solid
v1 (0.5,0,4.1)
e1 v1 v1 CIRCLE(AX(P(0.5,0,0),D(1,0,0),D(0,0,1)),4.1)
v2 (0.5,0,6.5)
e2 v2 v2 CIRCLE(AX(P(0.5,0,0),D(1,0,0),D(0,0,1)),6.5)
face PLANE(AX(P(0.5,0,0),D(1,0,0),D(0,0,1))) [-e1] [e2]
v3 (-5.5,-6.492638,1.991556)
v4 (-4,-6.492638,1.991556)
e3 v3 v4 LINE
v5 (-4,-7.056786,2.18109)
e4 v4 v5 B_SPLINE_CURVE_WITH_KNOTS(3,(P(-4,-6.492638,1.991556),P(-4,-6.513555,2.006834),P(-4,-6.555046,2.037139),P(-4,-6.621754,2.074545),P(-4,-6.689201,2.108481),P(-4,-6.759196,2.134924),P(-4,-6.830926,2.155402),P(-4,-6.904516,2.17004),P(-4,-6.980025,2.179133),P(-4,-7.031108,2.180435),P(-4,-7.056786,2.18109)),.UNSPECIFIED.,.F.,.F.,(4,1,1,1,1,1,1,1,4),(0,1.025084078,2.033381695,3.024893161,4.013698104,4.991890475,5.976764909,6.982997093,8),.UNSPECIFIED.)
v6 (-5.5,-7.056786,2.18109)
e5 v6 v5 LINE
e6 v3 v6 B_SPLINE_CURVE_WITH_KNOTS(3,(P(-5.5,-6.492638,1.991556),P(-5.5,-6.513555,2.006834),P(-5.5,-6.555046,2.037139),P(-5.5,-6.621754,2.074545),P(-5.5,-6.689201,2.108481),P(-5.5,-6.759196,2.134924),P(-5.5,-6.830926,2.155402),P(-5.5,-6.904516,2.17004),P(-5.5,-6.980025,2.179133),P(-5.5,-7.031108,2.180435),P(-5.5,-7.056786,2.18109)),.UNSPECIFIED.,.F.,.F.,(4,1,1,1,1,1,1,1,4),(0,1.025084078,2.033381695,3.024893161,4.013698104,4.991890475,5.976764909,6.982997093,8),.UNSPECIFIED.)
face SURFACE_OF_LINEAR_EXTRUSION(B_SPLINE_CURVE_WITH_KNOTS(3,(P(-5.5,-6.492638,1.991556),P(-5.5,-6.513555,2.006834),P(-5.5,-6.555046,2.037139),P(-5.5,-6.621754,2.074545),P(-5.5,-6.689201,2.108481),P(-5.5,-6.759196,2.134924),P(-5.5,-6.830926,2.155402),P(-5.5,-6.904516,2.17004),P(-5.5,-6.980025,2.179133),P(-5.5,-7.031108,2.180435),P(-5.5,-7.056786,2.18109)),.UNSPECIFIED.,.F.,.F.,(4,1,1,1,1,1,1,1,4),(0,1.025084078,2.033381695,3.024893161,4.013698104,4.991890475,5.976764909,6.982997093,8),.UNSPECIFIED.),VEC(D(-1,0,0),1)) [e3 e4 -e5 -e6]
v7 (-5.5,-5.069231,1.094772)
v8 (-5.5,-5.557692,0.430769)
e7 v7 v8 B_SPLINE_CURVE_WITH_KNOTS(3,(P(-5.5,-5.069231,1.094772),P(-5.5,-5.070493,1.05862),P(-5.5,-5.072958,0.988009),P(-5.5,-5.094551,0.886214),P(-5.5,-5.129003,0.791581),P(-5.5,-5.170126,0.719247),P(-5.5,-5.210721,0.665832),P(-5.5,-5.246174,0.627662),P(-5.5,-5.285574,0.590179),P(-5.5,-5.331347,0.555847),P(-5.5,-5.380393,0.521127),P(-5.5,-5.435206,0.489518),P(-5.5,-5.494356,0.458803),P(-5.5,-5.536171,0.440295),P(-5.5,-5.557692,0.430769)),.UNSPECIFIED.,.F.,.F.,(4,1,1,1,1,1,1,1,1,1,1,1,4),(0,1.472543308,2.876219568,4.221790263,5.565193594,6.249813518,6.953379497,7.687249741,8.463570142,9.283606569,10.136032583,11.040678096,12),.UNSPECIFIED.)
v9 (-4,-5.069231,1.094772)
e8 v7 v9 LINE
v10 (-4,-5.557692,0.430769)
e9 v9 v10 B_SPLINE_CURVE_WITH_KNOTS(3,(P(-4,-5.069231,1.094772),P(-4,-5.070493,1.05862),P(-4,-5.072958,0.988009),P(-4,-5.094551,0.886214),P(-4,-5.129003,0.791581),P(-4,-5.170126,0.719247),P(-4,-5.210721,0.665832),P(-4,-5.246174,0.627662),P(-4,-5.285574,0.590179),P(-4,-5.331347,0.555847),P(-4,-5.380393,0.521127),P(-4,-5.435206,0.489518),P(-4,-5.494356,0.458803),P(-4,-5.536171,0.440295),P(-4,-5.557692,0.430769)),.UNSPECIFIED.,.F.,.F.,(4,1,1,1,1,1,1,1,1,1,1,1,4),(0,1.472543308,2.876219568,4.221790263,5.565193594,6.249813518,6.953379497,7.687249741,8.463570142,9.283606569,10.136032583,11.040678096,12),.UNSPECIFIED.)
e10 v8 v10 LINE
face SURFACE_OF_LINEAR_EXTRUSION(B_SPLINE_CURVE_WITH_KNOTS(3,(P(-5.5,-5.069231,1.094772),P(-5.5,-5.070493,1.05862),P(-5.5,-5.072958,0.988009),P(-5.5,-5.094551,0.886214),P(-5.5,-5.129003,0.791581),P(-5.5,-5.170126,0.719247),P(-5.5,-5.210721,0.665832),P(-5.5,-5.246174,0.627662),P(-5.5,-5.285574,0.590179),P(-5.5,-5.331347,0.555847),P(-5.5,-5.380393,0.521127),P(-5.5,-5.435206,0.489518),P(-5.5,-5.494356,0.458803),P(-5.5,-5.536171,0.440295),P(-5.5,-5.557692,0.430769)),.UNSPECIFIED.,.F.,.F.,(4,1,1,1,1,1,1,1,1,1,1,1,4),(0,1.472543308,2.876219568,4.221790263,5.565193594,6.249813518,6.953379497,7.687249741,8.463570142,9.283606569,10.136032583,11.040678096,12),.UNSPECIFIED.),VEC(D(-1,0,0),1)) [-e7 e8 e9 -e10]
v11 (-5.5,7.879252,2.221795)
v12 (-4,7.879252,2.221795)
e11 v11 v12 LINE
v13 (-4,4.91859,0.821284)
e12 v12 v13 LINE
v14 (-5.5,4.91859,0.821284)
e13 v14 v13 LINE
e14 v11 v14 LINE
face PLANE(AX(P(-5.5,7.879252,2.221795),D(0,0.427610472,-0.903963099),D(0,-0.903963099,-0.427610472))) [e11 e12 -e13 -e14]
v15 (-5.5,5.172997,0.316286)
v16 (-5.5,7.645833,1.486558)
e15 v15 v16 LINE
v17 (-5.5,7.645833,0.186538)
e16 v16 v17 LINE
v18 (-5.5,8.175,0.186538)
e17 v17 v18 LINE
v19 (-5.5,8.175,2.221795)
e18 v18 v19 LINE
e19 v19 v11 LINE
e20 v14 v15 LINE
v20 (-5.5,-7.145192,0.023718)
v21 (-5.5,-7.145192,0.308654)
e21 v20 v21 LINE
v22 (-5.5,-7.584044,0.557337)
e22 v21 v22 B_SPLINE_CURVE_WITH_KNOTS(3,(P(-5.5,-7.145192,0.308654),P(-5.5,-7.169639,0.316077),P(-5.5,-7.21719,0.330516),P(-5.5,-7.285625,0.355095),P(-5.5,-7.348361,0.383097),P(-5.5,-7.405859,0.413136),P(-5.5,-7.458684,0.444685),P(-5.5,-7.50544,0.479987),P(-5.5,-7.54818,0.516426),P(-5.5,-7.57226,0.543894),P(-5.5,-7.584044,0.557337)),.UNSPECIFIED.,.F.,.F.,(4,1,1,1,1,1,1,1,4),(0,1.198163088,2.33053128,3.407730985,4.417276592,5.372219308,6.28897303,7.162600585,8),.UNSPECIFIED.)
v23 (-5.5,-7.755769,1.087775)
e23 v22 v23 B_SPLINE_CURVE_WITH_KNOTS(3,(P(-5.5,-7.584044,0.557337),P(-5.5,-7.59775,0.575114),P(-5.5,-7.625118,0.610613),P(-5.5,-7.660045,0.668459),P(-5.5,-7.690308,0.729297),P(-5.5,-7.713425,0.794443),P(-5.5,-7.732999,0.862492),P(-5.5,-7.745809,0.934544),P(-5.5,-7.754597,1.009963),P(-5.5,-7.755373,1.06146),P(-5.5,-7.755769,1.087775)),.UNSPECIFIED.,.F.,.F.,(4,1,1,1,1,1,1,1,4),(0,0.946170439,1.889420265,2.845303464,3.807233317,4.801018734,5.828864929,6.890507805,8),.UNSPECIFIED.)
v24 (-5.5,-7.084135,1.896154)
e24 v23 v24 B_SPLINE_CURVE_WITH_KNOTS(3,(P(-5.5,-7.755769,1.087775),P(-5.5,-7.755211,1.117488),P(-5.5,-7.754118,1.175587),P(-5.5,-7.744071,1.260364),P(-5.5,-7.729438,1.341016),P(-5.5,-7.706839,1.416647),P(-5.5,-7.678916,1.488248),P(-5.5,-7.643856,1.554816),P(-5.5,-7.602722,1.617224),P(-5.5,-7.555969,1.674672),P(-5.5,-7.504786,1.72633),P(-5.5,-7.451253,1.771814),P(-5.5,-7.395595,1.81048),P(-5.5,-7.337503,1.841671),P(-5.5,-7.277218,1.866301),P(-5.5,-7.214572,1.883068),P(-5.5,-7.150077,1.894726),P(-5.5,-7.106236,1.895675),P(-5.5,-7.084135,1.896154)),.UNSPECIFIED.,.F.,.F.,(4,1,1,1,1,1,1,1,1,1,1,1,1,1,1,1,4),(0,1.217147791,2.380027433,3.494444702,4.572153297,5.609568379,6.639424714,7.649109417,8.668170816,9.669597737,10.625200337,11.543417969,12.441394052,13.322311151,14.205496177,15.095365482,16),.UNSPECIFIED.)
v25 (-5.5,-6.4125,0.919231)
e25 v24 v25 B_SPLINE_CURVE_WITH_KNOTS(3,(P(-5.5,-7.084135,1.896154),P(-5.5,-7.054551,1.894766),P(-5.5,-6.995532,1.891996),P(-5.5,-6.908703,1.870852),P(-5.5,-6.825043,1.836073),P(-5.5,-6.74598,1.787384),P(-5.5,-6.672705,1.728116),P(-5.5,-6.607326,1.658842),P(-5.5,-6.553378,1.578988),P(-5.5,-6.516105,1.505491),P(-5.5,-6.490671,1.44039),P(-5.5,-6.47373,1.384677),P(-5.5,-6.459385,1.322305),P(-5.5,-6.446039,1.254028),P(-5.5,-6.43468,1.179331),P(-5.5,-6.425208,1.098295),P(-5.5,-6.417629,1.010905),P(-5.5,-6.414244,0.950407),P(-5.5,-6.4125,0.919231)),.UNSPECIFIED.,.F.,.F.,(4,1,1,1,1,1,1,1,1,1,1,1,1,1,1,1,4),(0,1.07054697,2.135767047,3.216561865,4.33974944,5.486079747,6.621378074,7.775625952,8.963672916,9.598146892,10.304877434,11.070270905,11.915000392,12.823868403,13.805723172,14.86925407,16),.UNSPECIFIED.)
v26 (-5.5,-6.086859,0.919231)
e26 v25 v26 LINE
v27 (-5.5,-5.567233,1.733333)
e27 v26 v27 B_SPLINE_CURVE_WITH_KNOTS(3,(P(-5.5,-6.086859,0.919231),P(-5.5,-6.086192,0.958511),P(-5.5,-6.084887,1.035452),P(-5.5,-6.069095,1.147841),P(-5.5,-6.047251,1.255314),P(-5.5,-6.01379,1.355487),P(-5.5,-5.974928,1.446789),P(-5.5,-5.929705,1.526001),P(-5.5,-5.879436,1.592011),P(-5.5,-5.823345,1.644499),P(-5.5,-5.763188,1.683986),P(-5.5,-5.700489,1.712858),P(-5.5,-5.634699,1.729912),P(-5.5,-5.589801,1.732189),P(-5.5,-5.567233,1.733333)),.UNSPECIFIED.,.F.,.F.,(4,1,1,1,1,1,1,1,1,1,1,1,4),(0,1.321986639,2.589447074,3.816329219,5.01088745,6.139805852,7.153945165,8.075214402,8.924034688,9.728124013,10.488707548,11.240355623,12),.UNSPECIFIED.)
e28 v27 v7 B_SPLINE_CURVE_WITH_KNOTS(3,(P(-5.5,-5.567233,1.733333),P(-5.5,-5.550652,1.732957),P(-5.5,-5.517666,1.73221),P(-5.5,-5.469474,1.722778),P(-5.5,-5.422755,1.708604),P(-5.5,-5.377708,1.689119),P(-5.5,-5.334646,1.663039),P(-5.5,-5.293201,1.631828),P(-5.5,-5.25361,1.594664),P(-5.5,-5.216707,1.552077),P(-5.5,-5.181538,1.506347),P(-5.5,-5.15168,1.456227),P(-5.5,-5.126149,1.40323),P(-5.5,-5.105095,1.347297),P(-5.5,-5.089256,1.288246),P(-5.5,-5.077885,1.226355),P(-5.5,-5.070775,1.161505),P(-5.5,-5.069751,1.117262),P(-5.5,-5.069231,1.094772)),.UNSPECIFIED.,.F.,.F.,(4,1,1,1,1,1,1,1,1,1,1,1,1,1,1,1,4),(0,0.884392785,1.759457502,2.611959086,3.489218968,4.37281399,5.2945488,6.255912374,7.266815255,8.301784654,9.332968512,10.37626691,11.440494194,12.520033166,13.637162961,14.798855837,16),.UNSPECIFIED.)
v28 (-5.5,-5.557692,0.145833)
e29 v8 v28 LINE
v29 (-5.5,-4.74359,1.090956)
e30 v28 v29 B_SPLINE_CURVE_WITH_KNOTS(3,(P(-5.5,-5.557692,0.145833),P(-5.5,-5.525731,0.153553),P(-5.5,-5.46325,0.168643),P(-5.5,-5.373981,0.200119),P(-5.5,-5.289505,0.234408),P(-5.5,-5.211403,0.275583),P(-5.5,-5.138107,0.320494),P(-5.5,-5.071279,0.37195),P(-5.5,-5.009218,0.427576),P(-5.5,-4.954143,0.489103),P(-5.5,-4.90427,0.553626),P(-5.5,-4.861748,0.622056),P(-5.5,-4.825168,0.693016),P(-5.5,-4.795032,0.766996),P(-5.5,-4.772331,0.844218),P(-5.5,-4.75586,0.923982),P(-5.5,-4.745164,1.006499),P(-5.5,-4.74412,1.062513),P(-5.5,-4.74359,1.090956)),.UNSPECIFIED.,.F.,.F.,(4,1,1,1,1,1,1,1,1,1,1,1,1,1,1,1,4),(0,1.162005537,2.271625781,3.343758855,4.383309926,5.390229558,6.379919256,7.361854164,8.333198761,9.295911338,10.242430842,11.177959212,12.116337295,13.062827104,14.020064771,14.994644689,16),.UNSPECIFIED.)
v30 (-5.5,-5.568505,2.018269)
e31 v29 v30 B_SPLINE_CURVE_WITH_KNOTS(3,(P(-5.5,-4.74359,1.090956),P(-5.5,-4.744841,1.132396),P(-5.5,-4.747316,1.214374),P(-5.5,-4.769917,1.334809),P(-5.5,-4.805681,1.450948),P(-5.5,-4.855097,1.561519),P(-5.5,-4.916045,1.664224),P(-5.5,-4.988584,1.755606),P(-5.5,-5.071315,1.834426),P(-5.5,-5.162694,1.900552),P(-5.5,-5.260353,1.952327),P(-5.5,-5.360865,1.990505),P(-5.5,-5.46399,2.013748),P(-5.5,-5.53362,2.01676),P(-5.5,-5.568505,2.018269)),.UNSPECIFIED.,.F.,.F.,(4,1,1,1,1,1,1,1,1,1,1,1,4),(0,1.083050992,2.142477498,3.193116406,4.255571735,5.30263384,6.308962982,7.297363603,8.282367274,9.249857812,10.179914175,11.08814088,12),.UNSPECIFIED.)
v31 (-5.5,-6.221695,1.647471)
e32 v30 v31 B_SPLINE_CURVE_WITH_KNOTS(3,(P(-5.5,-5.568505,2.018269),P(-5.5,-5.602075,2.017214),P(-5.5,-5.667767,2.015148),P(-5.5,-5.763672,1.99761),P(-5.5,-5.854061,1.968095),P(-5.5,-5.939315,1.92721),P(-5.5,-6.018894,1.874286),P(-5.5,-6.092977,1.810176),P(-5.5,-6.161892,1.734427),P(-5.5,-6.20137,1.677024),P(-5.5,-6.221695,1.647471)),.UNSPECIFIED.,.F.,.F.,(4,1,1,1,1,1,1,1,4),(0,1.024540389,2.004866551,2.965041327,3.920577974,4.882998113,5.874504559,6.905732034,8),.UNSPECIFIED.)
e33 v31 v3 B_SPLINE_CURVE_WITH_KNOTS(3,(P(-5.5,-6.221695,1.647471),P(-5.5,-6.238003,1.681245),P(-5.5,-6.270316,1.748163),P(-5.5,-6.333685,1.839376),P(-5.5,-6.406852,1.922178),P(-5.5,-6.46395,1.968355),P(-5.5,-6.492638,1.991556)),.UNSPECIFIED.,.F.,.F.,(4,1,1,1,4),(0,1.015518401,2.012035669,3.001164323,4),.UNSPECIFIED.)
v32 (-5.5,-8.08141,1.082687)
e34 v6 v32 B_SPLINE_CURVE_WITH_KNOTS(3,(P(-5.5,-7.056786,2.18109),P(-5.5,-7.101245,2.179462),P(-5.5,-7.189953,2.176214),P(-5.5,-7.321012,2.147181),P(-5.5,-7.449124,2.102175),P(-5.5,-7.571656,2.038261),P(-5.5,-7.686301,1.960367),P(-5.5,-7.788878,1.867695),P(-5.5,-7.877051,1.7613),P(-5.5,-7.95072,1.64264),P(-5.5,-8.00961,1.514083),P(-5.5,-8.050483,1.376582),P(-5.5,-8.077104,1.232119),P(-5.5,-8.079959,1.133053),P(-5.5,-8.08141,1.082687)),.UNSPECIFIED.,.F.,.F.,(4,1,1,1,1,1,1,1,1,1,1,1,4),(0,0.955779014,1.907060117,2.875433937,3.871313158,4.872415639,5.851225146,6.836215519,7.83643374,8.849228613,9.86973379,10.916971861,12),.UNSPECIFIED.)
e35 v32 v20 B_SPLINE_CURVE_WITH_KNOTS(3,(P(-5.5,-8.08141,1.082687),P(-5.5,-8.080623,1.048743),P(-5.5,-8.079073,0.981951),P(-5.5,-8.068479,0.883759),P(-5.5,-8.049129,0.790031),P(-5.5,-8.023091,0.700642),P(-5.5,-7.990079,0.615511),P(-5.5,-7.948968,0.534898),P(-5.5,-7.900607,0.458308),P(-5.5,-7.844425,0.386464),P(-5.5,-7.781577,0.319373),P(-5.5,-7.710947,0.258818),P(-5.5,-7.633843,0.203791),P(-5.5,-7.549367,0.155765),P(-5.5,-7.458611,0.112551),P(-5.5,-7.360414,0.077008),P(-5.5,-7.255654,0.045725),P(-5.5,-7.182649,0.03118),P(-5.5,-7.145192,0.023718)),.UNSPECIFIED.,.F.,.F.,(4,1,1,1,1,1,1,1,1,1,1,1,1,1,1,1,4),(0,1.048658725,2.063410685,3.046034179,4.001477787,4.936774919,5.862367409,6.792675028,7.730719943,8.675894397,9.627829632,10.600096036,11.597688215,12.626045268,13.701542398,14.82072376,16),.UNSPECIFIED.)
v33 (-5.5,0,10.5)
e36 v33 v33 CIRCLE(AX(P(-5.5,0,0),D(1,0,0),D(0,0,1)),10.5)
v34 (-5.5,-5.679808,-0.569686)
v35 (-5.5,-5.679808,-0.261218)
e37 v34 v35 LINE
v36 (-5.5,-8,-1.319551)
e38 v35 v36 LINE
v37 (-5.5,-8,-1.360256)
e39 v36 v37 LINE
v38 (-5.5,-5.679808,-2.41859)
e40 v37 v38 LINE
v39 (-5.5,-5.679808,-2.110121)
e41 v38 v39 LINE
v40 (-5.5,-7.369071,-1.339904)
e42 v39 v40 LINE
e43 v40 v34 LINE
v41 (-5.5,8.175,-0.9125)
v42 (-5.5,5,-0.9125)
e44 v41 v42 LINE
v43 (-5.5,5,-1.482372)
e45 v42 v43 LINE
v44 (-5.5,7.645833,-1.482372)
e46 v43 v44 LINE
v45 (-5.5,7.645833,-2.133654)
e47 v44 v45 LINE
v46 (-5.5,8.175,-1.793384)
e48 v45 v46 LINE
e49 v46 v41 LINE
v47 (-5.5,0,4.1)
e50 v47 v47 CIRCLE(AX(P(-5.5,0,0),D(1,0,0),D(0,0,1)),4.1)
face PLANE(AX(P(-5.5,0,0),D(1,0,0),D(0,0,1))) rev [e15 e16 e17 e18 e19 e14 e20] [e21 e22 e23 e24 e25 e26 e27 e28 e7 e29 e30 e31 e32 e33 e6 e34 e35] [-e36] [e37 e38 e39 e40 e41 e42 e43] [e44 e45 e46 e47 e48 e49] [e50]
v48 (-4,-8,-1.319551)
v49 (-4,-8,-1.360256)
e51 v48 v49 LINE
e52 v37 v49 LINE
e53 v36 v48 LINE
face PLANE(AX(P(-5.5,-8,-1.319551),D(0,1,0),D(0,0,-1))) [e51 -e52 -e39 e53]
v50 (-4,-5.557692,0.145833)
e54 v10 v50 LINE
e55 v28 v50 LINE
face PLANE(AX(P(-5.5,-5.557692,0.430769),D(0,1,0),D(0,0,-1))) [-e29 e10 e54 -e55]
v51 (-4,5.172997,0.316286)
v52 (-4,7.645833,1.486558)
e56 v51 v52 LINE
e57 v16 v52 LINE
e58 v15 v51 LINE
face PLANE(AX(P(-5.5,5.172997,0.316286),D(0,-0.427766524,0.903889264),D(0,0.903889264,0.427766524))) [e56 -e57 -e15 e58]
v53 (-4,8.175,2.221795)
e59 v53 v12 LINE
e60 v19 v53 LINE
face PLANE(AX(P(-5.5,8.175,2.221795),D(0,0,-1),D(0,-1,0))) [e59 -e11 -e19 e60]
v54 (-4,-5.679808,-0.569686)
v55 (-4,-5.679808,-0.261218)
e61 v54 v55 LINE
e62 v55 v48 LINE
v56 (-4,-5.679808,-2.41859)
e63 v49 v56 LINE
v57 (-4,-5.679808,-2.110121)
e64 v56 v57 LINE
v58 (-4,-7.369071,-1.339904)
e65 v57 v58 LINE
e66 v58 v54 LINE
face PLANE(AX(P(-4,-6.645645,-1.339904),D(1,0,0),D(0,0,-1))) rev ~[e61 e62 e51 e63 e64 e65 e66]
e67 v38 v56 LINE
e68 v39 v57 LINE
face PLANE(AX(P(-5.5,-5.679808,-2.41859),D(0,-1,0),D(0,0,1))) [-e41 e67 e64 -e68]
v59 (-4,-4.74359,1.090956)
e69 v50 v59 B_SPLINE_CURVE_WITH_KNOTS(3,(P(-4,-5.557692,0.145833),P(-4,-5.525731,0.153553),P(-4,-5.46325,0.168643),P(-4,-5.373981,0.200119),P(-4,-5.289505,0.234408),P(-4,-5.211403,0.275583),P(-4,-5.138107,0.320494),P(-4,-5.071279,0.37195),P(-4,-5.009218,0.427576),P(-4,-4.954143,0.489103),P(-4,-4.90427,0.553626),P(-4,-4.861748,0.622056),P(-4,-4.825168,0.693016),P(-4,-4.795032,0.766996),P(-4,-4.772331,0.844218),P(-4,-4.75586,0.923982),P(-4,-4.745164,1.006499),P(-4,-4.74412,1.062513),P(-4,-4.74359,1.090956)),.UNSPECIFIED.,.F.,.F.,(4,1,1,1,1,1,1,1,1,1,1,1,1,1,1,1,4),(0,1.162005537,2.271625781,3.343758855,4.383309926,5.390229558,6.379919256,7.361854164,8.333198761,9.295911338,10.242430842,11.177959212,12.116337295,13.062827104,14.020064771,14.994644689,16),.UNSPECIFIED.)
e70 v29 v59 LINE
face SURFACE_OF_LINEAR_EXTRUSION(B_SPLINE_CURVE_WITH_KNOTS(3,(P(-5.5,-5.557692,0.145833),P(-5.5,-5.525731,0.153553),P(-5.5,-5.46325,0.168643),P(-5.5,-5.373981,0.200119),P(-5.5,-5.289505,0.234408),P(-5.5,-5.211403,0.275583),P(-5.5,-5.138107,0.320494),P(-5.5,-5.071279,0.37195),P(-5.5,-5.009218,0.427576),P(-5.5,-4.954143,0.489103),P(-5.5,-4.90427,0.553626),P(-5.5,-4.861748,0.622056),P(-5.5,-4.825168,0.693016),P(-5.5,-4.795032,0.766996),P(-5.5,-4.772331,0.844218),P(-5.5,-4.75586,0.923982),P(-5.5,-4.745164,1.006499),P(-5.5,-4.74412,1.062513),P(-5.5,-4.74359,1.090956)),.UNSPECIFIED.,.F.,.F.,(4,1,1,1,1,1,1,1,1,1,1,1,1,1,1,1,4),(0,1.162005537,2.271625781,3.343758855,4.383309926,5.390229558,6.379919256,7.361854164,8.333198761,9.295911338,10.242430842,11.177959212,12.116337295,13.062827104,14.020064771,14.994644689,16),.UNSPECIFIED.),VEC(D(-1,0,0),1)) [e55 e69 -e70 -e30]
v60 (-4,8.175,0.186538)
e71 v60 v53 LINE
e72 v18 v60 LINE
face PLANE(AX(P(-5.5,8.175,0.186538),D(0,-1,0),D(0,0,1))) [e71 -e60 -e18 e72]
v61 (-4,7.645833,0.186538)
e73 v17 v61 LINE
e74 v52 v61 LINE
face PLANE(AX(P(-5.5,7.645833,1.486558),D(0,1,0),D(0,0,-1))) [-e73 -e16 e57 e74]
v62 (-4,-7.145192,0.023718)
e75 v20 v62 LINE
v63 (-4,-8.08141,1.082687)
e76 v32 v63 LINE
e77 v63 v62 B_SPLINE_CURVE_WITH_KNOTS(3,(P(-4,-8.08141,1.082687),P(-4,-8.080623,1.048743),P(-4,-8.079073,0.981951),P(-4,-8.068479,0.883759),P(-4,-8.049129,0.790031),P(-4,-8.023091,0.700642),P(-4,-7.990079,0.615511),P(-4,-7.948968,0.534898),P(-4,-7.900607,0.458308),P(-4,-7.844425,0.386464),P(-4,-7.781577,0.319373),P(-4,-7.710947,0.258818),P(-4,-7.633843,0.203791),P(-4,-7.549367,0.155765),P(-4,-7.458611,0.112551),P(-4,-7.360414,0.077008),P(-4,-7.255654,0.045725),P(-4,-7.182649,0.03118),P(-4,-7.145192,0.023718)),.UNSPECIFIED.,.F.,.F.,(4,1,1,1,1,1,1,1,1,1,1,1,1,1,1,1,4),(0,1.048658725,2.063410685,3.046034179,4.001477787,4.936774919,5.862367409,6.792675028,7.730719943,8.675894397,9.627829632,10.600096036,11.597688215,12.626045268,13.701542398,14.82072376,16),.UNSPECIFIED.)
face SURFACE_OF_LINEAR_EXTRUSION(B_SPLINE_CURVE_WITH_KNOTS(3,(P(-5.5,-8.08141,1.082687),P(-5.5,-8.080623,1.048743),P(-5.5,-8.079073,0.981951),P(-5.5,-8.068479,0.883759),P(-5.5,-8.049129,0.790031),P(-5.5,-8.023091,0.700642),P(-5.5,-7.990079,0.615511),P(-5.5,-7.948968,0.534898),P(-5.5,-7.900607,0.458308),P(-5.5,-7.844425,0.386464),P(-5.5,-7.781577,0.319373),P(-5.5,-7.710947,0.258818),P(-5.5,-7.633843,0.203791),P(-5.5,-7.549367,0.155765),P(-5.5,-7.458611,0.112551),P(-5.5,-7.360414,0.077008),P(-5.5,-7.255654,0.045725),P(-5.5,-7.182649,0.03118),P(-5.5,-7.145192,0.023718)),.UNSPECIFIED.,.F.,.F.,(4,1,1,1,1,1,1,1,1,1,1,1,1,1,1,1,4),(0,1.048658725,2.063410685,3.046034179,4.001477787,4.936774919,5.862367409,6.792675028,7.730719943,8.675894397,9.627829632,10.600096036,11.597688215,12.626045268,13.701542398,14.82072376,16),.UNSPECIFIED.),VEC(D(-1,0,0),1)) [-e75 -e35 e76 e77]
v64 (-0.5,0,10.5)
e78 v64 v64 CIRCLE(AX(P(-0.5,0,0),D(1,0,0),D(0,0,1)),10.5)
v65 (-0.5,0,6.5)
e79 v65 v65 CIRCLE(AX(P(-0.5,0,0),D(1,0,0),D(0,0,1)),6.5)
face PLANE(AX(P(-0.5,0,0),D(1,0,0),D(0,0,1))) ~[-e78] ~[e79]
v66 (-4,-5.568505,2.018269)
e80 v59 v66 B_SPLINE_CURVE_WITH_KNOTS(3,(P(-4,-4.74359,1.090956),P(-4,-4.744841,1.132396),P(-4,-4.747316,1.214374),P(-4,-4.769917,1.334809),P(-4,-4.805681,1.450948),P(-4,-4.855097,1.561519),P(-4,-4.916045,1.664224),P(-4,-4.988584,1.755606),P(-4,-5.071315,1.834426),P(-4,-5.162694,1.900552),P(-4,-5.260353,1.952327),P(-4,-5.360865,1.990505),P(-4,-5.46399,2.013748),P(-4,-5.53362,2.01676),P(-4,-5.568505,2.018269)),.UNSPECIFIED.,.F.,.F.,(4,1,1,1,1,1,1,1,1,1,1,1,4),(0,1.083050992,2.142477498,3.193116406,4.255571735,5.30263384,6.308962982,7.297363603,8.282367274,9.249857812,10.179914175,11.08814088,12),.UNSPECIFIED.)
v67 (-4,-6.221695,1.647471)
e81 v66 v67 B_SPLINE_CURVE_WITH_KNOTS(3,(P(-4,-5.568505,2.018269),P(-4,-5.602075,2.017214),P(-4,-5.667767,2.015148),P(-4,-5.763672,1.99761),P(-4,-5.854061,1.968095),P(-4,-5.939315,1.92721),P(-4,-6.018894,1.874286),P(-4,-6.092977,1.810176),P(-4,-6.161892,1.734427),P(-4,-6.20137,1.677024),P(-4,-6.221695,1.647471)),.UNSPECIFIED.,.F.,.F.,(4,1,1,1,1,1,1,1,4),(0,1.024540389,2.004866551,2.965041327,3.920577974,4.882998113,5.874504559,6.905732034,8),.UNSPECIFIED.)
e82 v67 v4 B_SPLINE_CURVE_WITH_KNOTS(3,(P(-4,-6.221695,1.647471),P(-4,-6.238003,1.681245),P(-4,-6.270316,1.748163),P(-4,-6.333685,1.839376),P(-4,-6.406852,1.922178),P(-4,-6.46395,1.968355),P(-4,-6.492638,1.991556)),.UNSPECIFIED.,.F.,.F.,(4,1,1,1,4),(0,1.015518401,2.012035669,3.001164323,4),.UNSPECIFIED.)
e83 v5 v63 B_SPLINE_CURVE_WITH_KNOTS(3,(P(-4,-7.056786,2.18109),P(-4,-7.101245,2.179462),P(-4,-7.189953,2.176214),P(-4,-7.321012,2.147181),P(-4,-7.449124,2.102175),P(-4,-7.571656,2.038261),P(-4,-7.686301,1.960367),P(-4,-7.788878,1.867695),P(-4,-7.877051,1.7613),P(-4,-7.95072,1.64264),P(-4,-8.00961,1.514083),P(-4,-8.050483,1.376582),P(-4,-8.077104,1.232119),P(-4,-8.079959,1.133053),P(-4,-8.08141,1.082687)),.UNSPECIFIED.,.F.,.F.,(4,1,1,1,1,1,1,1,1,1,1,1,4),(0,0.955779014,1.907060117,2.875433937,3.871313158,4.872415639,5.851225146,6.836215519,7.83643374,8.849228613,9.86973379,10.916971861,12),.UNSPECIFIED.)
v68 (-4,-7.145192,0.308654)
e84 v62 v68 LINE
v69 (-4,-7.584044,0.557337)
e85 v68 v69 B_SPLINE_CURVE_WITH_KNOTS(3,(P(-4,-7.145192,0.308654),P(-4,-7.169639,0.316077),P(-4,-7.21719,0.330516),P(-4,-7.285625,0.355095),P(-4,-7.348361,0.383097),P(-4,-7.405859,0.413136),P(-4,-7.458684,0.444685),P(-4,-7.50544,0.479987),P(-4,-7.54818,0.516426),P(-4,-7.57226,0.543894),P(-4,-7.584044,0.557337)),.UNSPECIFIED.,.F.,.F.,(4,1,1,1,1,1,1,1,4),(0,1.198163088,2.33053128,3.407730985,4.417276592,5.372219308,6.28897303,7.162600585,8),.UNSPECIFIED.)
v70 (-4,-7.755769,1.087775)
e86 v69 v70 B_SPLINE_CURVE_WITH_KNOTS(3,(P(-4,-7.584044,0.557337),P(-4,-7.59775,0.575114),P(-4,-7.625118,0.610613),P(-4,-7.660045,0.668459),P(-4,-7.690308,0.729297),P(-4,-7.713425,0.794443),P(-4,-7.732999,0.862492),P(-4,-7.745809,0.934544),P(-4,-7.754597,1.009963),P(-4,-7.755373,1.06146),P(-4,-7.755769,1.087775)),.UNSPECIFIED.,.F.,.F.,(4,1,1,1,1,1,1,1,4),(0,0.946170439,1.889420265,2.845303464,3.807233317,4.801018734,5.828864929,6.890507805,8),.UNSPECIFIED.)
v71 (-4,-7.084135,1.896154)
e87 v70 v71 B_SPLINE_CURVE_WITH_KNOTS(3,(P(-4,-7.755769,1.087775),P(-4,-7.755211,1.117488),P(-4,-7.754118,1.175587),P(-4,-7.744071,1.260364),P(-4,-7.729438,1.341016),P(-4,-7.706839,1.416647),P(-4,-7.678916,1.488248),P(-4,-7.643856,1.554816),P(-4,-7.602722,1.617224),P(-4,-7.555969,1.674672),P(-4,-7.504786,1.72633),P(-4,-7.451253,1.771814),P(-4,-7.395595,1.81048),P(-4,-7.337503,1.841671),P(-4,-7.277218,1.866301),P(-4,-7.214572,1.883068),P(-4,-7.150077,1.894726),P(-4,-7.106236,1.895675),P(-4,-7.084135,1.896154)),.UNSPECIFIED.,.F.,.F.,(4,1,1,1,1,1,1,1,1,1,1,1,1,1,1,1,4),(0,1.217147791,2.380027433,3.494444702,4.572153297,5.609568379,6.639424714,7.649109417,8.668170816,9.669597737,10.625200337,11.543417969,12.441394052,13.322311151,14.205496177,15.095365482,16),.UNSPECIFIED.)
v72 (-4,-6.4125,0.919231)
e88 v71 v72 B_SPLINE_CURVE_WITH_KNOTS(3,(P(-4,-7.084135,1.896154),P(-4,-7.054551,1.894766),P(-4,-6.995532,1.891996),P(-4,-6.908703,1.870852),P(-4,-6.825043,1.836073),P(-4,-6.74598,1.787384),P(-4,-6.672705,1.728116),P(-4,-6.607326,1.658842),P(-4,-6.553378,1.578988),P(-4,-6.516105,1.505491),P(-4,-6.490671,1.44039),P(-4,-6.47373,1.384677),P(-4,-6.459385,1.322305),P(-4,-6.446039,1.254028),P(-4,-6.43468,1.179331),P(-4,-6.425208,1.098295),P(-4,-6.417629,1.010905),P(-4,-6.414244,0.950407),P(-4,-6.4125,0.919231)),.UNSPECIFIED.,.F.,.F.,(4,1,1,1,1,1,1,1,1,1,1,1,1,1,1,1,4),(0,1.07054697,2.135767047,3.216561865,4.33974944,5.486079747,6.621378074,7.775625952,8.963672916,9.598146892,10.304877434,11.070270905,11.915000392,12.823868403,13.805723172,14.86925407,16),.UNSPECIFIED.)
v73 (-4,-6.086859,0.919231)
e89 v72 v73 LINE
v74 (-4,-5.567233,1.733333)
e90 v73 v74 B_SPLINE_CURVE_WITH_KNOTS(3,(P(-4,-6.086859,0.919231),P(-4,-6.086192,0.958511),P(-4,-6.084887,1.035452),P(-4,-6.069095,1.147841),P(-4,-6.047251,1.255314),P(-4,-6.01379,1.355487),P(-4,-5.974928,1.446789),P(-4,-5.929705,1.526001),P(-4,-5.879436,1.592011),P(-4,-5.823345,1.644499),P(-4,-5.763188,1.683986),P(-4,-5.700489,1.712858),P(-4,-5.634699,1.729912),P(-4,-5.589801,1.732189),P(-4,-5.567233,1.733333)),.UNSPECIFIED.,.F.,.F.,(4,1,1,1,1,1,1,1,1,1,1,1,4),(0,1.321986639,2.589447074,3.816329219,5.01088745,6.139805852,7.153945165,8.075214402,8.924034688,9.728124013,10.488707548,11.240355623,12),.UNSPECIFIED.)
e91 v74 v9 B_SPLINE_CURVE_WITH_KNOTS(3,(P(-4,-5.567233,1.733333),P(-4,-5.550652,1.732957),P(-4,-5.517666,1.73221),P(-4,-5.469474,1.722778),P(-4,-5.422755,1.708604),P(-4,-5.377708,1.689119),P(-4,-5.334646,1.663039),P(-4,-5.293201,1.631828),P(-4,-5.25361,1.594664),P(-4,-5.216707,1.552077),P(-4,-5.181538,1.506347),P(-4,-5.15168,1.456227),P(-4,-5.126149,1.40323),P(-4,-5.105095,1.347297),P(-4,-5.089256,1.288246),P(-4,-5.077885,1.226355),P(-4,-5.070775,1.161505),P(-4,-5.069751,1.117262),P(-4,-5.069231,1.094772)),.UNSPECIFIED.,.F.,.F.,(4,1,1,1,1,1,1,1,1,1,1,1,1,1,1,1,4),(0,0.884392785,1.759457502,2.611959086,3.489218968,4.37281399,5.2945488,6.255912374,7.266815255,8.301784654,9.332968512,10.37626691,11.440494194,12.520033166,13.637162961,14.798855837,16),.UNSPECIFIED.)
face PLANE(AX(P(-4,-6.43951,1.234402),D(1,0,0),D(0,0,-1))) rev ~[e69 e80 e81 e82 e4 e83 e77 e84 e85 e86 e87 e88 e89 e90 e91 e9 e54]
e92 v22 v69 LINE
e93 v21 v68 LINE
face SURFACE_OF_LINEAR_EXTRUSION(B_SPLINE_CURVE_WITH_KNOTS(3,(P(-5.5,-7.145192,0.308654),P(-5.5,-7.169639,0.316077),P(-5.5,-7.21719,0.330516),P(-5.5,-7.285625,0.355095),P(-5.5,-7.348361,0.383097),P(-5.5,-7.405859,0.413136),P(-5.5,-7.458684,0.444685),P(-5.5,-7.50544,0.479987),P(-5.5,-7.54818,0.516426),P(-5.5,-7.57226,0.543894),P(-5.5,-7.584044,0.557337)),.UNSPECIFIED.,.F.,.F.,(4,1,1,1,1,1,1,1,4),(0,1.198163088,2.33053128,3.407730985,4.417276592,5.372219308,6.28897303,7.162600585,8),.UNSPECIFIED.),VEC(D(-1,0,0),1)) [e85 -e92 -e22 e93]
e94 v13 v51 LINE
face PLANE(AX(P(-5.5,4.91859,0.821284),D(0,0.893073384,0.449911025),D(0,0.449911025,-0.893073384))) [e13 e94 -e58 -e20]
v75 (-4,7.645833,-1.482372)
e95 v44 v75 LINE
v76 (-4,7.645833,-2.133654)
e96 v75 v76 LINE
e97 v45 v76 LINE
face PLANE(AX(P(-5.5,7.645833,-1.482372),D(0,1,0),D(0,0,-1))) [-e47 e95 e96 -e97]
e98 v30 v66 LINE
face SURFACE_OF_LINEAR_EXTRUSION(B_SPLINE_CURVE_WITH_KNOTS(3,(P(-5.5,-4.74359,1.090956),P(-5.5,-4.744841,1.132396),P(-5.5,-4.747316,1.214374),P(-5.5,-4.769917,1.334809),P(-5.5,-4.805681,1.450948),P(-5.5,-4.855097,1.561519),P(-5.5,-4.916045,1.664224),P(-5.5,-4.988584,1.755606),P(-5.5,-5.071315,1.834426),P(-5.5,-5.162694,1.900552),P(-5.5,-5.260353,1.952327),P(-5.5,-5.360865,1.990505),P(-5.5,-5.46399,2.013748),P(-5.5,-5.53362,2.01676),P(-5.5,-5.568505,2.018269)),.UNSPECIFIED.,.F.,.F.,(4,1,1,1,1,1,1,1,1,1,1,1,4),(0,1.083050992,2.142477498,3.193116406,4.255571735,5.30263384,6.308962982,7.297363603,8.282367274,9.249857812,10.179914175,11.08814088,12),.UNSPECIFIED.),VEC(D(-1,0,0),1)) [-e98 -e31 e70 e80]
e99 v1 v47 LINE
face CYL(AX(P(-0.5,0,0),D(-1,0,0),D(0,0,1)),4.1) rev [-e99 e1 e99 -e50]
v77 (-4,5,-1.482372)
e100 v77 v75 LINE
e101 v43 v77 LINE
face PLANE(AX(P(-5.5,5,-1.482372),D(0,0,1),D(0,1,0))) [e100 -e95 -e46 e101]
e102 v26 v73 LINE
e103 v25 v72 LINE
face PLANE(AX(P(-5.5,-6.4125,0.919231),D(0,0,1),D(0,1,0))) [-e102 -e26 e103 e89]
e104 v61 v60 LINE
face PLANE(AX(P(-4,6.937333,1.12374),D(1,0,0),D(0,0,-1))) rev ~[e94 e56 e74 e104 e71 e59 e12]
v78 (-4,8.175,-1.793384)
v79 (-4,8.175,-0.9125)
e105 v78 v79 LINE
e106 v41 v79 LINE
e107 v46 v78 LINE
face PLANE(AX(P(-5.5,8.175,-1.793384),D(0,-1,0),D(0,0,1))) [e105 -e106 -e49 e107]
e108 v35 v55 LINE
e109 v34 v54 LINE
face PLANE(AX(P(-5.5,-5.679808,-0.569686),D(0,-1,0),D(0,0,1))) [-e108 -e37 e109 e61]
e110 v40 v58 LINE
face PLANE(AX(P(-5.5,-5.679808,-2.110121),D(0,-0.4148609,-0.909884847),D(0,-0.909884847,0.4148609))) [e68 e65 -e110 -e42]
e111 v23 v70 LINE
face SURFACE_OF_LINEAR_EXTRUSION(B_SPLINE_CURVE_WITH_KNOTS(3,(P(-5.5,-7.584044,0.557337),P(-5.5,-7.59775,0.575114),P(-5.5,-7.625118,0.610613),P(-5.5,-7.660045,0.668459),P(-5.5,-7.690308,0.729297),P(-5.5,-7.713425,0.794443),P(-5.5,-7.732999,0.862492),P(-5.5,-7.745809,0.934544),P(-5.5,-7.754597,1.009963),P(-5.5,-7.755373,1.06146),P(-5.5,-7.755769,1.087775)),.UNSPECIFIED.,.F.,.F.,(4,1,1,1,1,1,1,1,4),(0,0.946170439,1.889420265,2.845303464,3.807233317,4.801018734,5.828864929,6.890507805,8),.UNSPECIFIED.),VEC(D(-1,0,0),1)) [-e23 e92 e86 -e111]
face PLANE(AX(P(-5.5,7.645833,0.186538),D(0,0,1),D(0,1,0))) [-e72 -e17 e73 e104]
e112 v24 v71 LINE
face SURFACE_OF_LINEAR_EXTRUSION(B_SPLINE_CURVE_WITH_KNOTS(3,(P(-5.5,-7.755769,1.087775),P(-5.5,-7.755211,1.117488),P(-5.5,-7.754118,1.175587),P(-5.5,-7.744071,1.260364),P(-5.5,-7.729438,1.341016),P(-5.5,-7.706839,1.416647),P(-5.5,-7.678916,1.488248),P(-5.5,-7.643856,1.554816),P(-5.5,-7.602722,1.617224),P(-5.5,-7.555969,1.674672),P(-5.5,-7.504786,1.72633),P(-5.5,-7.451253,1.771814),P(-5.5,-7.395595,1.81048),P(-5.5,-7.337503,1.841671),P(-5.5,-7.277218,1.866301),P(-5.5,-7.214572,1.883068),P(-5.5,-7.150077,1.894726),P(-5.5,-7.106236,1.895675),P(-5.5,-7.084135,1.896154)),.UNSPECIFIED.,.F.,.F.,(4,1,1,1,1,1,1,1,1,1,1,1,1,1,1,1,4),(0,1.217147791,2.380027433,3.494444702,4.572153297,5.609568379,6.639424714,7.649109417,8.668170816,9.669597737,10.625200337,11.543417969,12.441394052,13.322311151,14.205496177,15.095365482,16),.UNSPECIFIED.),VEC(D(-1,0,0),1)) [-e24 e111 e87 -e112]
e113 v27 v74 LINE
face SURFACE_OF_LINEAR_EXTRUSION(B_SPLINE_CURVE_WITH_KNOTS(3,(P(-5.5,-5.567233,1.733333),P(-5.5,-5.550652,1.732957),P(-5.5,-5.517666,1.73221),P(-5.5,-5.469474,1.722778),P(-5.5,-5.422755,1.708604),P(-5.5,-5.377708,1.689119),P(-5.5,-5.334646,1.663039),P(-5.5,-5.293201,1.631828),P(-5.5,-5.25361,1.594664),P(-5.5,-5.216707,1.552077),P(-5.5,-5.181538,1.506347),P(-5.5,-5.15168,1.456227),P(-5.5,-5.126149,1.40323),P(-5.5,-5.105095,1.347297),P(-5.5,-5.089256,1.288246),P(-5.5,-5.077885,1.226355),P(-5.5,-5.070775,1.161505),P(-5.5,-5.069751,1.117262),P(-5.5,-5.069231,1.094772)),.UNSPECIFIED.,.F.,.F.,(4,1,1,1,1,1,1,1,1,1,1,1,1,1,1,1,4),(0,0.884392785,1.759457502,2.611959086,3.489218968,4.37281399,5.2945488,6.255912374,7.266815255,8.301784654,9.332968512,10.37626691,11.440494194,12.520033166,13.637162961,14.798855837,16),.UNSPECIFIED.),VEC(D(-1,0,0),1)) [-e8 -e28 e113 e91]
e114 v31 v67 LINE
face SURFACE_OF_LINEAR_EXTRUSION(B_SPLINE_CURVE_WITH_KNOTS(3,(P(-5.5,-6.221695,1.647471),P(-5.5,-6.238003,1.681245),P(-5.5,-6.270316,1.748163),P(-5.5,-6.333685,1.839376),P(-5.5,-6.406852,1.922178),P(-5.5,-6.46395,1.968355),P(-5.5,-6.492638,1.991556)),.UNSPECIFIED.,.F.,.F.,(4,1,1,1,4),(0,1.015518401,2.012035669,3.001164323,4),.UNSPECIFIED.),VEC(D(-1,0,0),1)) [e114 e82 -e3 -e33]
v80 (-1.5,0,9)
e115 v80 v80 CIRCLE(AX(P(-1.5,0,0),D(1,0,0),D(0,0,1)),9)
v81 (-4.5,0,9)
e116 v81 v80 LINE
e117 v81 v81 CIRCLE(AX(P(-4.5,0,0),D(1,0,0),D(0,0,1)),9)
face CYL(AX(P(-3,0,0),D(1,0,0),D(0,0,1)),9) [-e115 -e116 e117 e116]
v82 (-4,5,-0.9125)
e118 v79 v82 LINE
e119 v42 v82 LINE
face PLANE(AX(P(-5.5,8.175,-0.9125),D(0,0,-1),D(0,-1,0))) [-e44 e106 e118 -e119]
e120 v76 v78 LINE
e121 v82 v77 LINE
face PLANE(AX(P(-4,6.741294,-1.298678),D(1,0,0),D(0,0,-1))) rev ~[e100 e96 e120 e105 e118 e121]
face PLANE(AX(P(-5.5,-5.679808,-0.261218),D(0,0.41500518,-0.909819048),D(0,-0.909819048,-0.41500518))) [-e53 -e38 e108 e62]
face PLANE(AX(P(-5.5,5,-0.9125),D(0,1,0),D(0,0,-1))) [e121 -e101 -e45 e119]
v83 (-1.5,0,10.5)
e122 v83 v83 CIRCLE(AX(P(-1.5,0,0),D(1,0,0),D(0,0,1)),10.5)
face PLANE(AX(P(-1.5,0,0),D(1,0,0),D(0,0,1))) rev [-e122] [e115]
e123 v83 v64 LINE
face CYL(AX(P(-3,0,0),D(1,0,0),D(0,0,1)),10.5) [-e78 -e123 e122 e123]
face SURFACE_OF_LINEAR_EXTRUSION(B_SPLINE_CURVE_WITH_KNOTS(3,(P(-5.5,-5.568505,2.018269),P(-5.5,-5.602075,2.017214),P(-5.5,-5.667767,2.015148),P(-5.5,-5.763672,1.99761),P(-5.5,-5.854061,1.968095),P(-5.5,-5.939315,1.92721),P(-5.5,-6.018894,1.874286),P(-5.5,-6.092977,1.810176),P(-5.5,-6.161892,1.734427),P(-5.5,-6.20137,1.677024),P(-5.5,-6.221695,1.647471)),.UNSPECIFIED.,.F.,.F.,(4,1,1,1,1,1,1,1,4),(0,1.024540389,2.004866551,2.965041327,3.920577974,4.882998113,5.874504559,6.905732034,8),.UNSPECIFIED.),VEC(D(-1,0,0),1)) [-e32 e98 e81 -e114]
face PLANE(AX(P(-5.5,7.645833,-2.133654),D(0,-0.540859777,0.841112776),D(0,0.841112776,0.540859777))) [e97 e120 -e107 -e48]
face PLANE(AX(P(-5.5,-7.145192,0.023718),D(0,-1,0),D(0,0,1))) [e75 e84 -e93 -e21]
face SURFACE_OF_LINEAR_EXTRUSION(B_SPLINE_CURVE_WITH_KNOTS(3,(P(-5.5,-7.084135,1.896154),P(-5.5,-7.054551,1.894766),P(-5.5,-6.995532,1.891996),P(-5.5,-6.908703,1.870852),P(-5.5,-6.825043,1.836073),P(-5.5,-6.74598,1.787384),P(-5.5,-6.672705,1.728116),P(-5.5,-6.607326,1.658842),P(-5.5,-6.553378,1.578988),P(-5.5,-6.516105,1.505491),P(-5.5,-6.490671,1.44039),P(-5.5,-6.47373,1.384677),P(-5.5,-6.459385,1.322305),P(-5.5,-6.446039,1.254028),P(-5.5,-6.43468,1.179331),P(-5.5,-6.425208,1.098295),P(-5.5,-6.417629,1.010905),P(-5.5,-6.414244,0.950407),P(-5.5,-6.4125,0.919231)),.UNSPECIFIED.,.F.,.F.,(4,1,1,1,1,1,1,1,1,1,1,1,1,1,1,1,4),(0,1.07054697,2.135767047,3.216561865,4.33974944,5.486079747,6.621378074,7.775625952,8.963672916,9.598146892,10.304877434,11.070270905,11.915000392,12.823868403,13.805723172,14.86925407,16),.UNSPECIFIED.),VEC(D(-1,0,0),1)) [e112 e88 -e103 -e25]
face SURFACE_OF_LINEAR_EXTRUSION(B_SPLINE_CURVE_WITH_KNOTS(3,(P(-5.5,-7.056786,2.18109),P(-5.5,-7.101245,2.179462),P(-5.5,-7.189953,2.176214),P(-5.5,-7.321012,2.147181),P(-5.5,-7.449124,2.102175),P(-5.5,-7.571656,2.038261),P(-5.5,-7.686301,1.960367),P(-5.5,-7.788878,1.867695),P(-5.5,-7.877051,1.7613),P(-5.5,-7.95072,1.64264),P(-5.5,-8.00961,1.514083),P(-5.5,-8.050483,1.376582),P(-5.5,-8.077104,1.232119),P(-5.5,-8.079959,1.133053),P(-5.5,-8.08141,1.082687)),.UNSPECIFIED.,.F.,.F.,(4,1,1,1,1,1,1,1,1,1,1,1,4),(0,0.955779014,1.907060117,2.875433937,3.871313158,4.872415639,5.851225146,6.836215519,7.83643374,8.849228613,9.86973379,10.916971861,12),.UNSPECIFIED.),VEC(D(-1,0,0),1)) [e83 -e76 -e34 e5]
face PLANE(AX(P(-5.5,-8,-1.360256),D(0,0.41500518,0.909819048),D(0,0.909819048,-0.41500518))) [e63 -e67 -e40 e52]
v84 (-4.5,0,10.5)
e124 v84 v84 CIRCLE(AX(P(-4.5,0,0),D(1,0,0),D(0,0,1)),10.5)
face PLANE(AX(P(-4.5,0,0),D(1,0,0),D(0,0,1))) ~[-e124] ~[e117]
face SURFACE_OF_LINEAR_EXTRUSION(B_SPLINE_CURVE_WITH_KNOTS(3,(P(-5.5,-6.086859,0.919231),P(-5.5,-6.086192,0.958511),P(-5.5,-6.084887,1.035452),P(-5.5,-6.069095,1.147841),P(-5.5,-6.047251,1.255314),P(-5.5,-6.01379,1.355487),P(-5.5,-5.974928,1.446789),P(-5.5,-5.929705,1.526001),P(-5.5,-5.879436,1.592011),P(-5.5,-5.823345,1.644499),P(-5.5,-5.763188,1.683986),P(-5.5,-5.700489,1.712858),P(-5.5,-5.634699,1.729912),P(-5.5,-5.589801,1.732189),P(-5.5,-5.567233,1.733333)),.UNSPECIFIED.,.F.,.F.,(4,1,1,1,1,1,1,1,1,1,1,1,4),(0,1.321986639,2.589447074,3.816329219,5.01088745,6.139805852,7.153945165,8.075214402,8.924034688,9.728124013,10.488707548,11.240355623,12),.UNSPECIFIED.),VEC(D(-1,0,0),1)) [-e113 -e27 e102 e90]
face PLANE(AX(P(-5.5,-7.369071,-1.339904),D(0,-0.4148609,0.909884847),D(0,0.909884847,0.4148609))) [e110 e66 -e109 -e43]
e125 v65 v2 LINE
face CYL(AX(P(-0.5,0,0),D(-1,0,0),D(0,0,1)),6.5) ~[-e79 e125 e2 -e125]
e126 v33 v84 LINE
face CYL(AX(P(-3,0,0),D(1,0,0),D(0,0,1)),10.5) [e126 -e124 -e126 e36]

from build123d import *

# Parameters (mm, degrees)
SKETCH1_W           = 5
SKETCH1_H           = 6.4
SKETCH2_W           = 3
SKETCH2_H           = 1.5
SKETCH6_R           = 6.5
SKETCH6_R_2         = 4.1
BOSS_EXTRUDE1_DEPTH = 1
CUT_EXTRUDE2_DEPTH  = 1.5


with BuildPart() as part:
    # Sketch1 → Revolve1 (revolve)
    with BuildSketch(Plane.XY, mode=Mode.PRIVATE) as revolve1_sk:
        with Locations((-3, 7.3)):
            Rectangle(SKETCH1_W, SKETCH1_H)
    revolve(revolve1_sk.sketch.rotate(Axis((0, 0, 0), (1, 0, 0)), 90), axis=Axis((0, 0, 0), (1, 0, 0)))

    # Sketch2 → Cut-Revolve1 (revolve, cut)
    with BuildSketch(Plane.XY, mode=Mode.PRIVATE) as cut_revolve1_sk:
        with Locations((-3, 9.75)):
            Rectangle(SKETCH2_W, SKETCH2_H)
    revolve(cut_revolve1_sk.sketch.rotate(Axis((0, 0, 0), (1, 0, 0)), 90), axis=Axis((0, 0, 0), (1, 0, 0)), mode=Mode.SUBTRACT)

    # Sketch6 → Boss-Extrude1 (add)
    with BuildSketch(Plane(origin=(-0.5, 0, 0), x_dir=(0, 0, -1), z_dir=(1, 0, 0))):
        with Locations(Location((0, 0, 0), (0, 0, 180))):
            Circle(SKETCH6_R)
        with Locations(Location((0, 0, 0), (0, 0, 180))):
            Circle(SKETCH6_R_2, mode=Mode.SUBTRACT)
    extrude(amount=BOSS_EXTRUDE1_DEPTH)

    # Sketch5 → Cut-Extrude2 (cut)
    with BuildSketch(Plane.ZY.offset(5.5)):
        Polygon((-1.793384415, 8.175), (-0.9125, 8.175), (-0.9125, 5), (-1.482371795, 5), (-1.482371795, 7.645833333), (-2.133653846, 7.645833333), align=None)
        Polygon((0.186538462, 8.175), (2.221794872, 8.175), (2.221794872, 7.879251803), (0.821284054, 4.918589744), (0.316286058, 5.172996795), (1.486558494, 7.645833333), (0.186538462, 7.645833333), align=None)
        Polygon((-2.418589744, -5.679807692), (-2.110121194, -5.679807692), (-1.339903846, -7.369070513), (-0.569686498, -5.679807692), (-0.261217949, -5.679807692), (-1.319551282, -8), (-1.36025641, -8), align=None)
        with BuildLine():
            Line((0.430769231, -5.557692308), (0.145833333, -5.557692308))
            add(Edge.make_bspline(
                [(0.145833333, -5.557692308), (0.153552711, -5.525731412), (0.168643464, -5.463250474), (0.20011912, -5.37398103), (0.234408445, -5.289504693), (0.275582847, -5.211403254), (0.320494359, -5.138107107), (0.371949971, -5.071278687), (0.427575719, -5.009218354), (0.489102638, -4.954142774), (0.553626495, -4.90427012), (0.622056471, -4.861747746), (0.693015811, -4.825167979), (0.766996153, -4.795032483), (0.844217751, -4.772330758), (0.923982481, -4.755859941), (1.00649937, -4.745163716), (1.062513256, -4.74411981), (1.090955529, -4.743589744)],
                knots=[0, 0, 0, 0, 1.162005537, 2.271625781, 3.343758855, 4.383309926, 5.390229558, 6.379919256, 7.361854164, 8.333198761, 9.295911338, 10.242430842, 11.177959212, 12.116337295, 13.062827104, 14.020064771, 14.994644689, 16, 16, 16, 16], degree=3))
            add(Edge.make_bspline(
                [(1.090955529, -4.743589744), (1.132396302, -4.744840902), (1.214373905, -4.747315929), (1.334808955, -4.769916882), (1.450947569, -4.805681109), (1.56151853, -4.855096562), (1.664223822, -4.916045053), (1.755605934, -4.988584493), (1.834426226, -5.071315288), (1.90055184, -5.162694114), (1.952327018, -5.26035304), (1.990505371, -5.360864611), (2.013747896, -5.4639904), (2.016760115, -5.533620217), (2.018269231, -5.568504607)],
                knots=[0, 0, 0, 0, 1.083050992, 2.142477498, 3.193116406, 4.255571735, 5.30263384, 6.308962982, 7.297363603, 8.282367274, 9.249857812, 10.179914175, 11.08814088, 12, 12, 12, 12], degree=3))
            add(Edge.make_bspline(
                [(2.018269231, -5.568504607), (2.017213687, -5.602075057), (2.015148153, -5.667767217), (1.99760972, -5.763671718), (1.968094682, -5.854060884), (1.927209968, -5.939315224), (1.874285848, -6.018894186), (1.810175616, -6.092976815), (1.734426773, -6.161891694), (1.677023736, -6.201370073), (1.647470954, -6.221694712)],
                knots=[0, 0, 0, 0, 1.024540389, 2.004866551, 2.965041327, 3.920577974, 4.882998113, 5.874504559, 6.905732034, 8, 8, 8, 8], degree=3))
            add(Edge.make_bspline(
                [(1.647470954, -6.221694712), (1.681245474, -6.238003481), (1.748162567, -6.270315872), (1.839376261, -6.333685023), (1.922178334, -6.406851852), (1.968355279, -6.46394983), (1.99155649, -6.492638221)],
                knots=[0, 0, 0, 0, 1.015518401, 2.012035669, 3.001164323, 4, 4, 4, 4], degree=3))
            add(Edge.make_bspline(
                [(1.99155649, -6.492638221), (2.006833994, -6.513554896), (2.037138821, -6.55504572), (2.074545341, -6.621753764), (2.108480752, -6.689201186), (2.134924165, -6.75919579), (2.155401887, -6.83092631), (2.170039573, -6.904515912), (2.179132901, -6.980024689), (2.180435152, -7.031108153), (2.181089744, -7.056785857)],
                knots=[0, 0, 0, 0, 1.025084078, 2.033381695, 3.024893161, 4.013698104, 4.991890475, 5.976764909, 6.982997093, 8, 8, 8, 8], degree=3))
            add(Edge.make_bspline(
                [(2.181089744, -7.056785857), (2.179461863, -7.101244676), (2.176213764, -7.189953089), (2.147181497, -7.321012301), (2.1021752, -7.449124006), (2.038260694, -7.571656182), (1.960366596, -7.686301242), (1.867695309, -7.788877608), (1.761299782, -7.877050628), (1.642640372, -7.950719906), (1.514082691, -8.009609735), (1.376581975, -8.050483273), (1.232119426, -8.077104287), (1.133052806, -8.079958946), (1.0826873, -8.081410256)],
                knots=[0, 0, 0, 0, 0.955779014, 1.907060117, 2.875433937, 3.871313158, 4.872415639, 5.851225146, 6.836215519, 7.83643374, 8.849228613, 9.86973379, 10.916971861, 12, 12, 12, 12], degree=3))
            add(Edge.make_bspline(
                [(1.0826873, -8.081410256), (1.048742649, -8.080622663), (0.981950895, -8.079072942), (0.883758578, -8.068478782), (0.790031037, -8.04912942), (0.700641545, -8.023091422), (0.61551069, -7.990078913), (0.534898252, -7.94896838), (0.458308277, -7.900607231), (0.386463514, -7.844424619), (0.319372528, -7.781576547), (0.258818271, -7.710947302), (0.203791173, -7.633842514), (0.155764636, -7.549366599), (0.112551115, -7.458611259), (0.07700839, -7.360414407), (0.045725053, -7.255653901), (0.03118041, -7.182649094), (0.023717949, -7.145192308)],
                knots=[0, 0, 0, 0, 1.048658725, 2.063410685, 3.046034179, 4.001477787, 4.936774919, 5.862367409, 6.792675028, 7.730719943, 8.675894397, 9.627829632, 10.600096036, 11.597688215, 12.626045268, 13.701542398, 14.82072376, 16, 16, 16, 16], degree=3))
            Line((0.023717949, -7.145192308), (0.308653846, -7.145192308))
            add(Edge.make_bspline(
                [(0.308653846, -7.145192308), (0.316077261, -7.169638913), (0.330516446, -7.217189683), (0.355094845, -7.285624817), (0.383096778, -7.348361051), (0.413136413, -7.405858597), (0.444685432, -7.458683705), (0.479986828, -7.505439544), (0.516425981, -7.548179763), (0.543893681, -7.572259518), (0.557336739, -7.584044471)],
                knots=[0, 0, 0, 0, 1.198163088, 2.33053128, 3.407730985, 4.417276592, 5.372219308, 6.28897303, 7.162600585, 8, 8, 8, 8], degree=3))
            add(Edge.make_bspline(
                [(0.557336739, -7.584044471), (0.575113633, -7.597749888), (0.610612549, -7.625118417), (0.668459444, -7.660044894), (0.729296877, -7.69030811), (0.794443045, -7.713425463), (0.862492159, -7.732999484), (0.934544126, -7.745808812), (1.009963272, -7.754597367), (1.061459744, -7.755372912), (1.087775441, -7.755769231)],
                knots=[0, 0, 0, 0, 0.946170439, 1.889420265, 2.845303464, 3.807233317, 4.801018734, 5.828864929, 6.890507805, 8, 8, 8, 8], degree=3))
            add(Edge.make_bspline(
                [(1.087775441, -7.755769231), (1.117487547, -7.755210517), (1.175587005, -7.754118), (1.260363913, -7.744070751), (1.341015669, -7.729438162), (1.416646823, -7.706838528), (1.488248069, -7.678915898), (1.554815708, -7.643856273), (1.617223605, -7.602722133), (1.674672423, -7.555968753), (1.726330133, -7.504786397), (1.771813834, -7.451253111), (1.810480491, -7.395594608), (1.841671309, -7.337502884), (1.866300737, -7.277218498), (1.88306764, -7.214572274), (1.8947258, -7.150076897), (1.895675227, -7.106235618), (1.896153846, -7.084134615)],
                knots=[0, 0, 0, 0, 1.217147791, 2.380027433, 3.494444702, 4.572153297, 5.609568379, 6.639424714, 7.649109417, 8.668170816, 9.669597737, 10.625200337, 11.543417969, 12.441394052, 13.322311151, 14.205496177, 15.095365482, 16, 16, 16, 16], degree=3))
            add(Edge.make_bspline(
                [(1.896153846, -7.084134615), (1.894765644, -7.054551472), (1.891996147, -6.995532388), (1.870851936, -6.908702874), (1.836073109, -6.825043064), (1.787384474, -6.745980312), (1.728115634, -6.672705029), (1.658841755, -6.607325899), (1.578987576, -6.553378031), (1.505490981, -6.516104749), (1.440389731, -6.490671117), (1.384677204, -6.473730256), (1.322305142, -6.459385012), (1.254027812, -6.44603888), (1.179330751, -6.434680228), (1.098295282, -6.425208009), (1.010904984, -6.417628794), (0.95040657, -6.414244157), (0.919230769, -6.4125)],
                knots=[0, 0, 0, 0, 1.07054697, 2.135767047, 3.216561865, 4.33974944, 5.486079747, 6.621378074, 7.775625952, 8.963672916, 9.598146892, 10.304877434, 11.070270905, 11.915000392, 12.823868403, 13.805723172, 14.86925407, 16, 16, 16, 16], degree=3))
            Line((0.919230769, -6.4125), (0.919230769, -6.086858974))
            add(Edge.make_bspline(
                [(0.919230769, -6.086858974), (0.958511112, -6.086192402), (1.035451655, -6.084886752), (1.147841489, -6.069095199), (1.255313708, -6.04725063), (1.355486538, -6.013790491), (1.446789299, -5.974928222), (1.526000653, -5.929705146), (1.592010851, -5.879436052), (1.644499108, -5.823345042), (1.683986337, -5.76318782), (1.712857789, -5.700489138), (1.729912371, -5.634699454), (1.732188997, -5.58980072), (1.733333333, -5.567232572)],
                knots=[0, 0, 0, 0, 1.321986639, 2.589447074, 3.816329219, 5.01088745, 6.139805852, 7.153945165, 8.075214402, 8.924034688, 9.728124013, 10.488707548, 11.240355623, 12, 12, 12, 12], degree=3))
            add(Edge.make_bspline(
                [(1.733333333, -5.567232572), (1.732957403, -5.550652046), (1.732209509, -5.517665876), (1.722777692, -5.46947385), (1.708604455, -5.422755134), (1.689119272, -5.377708406), (1.663038735, -5.334646087), (1.63182759, -5.293201044), (1.59466367, -5.253609901), (1.552077443, -5.21670704), (1.506346735, -5.181537803), (1.456227296, -5.151680433), (1.403230309, -5.126148841), (1.347297101, -5.105094507), (1.288246156, -5.089256438), (1.226354921, -5.077884639), (1.16150538, -5.070774766), (1.117262451, -5.069751132), (1.094771635, -5.069230769)],
                knots=[0, 0, 0, 0, 0.884392785, 1.759457502, 2.611959086, 3.489218968, 4.37281399, 5.2945488, 6.255912374, 7.266815255, 8.301784654, 9.332968512, 10.37626691, 11.440494194, 12.520033166, 13.637162961, 14.798855837, 16, 16, 16, 16], degree=3))
            add(Edge.make_bspline(
                [(1.094771635, -5.069230769), (1.058620479, -5.070492933), (0.988008863, -5.072958233), (0.886213903, -5.094550967), (0.791581364, -5.129002514), (0.719247002, -5.170126039), (0.665832095, -5.210721075), (0.627662302, -5.246174383), (0.590178696, -5.285574159), (0.55584726, -5.331347113), (0.521127296, -5.380393416), (0.489518301, -5.435206327), (0.458802723, -5.494356028), (0.440294695, -5.536171353), (0.430769231, -5.557692308)],
                knots=[0, 0, 0, 0, 1.472543308, 2.876219568, 4.221790263, 5.565193594, 6.249813518, 6.953379497, 7.687249741, 8.463570142, 9.283606569, 10.136032583, 11.040678096, 12, 12, 12, 12], degree=3))
        make_face()
    extrude(amount=-CUT_EXTRUDE2_DEPTH, mode=Mode.SUBTRACT)


solid = part.part
